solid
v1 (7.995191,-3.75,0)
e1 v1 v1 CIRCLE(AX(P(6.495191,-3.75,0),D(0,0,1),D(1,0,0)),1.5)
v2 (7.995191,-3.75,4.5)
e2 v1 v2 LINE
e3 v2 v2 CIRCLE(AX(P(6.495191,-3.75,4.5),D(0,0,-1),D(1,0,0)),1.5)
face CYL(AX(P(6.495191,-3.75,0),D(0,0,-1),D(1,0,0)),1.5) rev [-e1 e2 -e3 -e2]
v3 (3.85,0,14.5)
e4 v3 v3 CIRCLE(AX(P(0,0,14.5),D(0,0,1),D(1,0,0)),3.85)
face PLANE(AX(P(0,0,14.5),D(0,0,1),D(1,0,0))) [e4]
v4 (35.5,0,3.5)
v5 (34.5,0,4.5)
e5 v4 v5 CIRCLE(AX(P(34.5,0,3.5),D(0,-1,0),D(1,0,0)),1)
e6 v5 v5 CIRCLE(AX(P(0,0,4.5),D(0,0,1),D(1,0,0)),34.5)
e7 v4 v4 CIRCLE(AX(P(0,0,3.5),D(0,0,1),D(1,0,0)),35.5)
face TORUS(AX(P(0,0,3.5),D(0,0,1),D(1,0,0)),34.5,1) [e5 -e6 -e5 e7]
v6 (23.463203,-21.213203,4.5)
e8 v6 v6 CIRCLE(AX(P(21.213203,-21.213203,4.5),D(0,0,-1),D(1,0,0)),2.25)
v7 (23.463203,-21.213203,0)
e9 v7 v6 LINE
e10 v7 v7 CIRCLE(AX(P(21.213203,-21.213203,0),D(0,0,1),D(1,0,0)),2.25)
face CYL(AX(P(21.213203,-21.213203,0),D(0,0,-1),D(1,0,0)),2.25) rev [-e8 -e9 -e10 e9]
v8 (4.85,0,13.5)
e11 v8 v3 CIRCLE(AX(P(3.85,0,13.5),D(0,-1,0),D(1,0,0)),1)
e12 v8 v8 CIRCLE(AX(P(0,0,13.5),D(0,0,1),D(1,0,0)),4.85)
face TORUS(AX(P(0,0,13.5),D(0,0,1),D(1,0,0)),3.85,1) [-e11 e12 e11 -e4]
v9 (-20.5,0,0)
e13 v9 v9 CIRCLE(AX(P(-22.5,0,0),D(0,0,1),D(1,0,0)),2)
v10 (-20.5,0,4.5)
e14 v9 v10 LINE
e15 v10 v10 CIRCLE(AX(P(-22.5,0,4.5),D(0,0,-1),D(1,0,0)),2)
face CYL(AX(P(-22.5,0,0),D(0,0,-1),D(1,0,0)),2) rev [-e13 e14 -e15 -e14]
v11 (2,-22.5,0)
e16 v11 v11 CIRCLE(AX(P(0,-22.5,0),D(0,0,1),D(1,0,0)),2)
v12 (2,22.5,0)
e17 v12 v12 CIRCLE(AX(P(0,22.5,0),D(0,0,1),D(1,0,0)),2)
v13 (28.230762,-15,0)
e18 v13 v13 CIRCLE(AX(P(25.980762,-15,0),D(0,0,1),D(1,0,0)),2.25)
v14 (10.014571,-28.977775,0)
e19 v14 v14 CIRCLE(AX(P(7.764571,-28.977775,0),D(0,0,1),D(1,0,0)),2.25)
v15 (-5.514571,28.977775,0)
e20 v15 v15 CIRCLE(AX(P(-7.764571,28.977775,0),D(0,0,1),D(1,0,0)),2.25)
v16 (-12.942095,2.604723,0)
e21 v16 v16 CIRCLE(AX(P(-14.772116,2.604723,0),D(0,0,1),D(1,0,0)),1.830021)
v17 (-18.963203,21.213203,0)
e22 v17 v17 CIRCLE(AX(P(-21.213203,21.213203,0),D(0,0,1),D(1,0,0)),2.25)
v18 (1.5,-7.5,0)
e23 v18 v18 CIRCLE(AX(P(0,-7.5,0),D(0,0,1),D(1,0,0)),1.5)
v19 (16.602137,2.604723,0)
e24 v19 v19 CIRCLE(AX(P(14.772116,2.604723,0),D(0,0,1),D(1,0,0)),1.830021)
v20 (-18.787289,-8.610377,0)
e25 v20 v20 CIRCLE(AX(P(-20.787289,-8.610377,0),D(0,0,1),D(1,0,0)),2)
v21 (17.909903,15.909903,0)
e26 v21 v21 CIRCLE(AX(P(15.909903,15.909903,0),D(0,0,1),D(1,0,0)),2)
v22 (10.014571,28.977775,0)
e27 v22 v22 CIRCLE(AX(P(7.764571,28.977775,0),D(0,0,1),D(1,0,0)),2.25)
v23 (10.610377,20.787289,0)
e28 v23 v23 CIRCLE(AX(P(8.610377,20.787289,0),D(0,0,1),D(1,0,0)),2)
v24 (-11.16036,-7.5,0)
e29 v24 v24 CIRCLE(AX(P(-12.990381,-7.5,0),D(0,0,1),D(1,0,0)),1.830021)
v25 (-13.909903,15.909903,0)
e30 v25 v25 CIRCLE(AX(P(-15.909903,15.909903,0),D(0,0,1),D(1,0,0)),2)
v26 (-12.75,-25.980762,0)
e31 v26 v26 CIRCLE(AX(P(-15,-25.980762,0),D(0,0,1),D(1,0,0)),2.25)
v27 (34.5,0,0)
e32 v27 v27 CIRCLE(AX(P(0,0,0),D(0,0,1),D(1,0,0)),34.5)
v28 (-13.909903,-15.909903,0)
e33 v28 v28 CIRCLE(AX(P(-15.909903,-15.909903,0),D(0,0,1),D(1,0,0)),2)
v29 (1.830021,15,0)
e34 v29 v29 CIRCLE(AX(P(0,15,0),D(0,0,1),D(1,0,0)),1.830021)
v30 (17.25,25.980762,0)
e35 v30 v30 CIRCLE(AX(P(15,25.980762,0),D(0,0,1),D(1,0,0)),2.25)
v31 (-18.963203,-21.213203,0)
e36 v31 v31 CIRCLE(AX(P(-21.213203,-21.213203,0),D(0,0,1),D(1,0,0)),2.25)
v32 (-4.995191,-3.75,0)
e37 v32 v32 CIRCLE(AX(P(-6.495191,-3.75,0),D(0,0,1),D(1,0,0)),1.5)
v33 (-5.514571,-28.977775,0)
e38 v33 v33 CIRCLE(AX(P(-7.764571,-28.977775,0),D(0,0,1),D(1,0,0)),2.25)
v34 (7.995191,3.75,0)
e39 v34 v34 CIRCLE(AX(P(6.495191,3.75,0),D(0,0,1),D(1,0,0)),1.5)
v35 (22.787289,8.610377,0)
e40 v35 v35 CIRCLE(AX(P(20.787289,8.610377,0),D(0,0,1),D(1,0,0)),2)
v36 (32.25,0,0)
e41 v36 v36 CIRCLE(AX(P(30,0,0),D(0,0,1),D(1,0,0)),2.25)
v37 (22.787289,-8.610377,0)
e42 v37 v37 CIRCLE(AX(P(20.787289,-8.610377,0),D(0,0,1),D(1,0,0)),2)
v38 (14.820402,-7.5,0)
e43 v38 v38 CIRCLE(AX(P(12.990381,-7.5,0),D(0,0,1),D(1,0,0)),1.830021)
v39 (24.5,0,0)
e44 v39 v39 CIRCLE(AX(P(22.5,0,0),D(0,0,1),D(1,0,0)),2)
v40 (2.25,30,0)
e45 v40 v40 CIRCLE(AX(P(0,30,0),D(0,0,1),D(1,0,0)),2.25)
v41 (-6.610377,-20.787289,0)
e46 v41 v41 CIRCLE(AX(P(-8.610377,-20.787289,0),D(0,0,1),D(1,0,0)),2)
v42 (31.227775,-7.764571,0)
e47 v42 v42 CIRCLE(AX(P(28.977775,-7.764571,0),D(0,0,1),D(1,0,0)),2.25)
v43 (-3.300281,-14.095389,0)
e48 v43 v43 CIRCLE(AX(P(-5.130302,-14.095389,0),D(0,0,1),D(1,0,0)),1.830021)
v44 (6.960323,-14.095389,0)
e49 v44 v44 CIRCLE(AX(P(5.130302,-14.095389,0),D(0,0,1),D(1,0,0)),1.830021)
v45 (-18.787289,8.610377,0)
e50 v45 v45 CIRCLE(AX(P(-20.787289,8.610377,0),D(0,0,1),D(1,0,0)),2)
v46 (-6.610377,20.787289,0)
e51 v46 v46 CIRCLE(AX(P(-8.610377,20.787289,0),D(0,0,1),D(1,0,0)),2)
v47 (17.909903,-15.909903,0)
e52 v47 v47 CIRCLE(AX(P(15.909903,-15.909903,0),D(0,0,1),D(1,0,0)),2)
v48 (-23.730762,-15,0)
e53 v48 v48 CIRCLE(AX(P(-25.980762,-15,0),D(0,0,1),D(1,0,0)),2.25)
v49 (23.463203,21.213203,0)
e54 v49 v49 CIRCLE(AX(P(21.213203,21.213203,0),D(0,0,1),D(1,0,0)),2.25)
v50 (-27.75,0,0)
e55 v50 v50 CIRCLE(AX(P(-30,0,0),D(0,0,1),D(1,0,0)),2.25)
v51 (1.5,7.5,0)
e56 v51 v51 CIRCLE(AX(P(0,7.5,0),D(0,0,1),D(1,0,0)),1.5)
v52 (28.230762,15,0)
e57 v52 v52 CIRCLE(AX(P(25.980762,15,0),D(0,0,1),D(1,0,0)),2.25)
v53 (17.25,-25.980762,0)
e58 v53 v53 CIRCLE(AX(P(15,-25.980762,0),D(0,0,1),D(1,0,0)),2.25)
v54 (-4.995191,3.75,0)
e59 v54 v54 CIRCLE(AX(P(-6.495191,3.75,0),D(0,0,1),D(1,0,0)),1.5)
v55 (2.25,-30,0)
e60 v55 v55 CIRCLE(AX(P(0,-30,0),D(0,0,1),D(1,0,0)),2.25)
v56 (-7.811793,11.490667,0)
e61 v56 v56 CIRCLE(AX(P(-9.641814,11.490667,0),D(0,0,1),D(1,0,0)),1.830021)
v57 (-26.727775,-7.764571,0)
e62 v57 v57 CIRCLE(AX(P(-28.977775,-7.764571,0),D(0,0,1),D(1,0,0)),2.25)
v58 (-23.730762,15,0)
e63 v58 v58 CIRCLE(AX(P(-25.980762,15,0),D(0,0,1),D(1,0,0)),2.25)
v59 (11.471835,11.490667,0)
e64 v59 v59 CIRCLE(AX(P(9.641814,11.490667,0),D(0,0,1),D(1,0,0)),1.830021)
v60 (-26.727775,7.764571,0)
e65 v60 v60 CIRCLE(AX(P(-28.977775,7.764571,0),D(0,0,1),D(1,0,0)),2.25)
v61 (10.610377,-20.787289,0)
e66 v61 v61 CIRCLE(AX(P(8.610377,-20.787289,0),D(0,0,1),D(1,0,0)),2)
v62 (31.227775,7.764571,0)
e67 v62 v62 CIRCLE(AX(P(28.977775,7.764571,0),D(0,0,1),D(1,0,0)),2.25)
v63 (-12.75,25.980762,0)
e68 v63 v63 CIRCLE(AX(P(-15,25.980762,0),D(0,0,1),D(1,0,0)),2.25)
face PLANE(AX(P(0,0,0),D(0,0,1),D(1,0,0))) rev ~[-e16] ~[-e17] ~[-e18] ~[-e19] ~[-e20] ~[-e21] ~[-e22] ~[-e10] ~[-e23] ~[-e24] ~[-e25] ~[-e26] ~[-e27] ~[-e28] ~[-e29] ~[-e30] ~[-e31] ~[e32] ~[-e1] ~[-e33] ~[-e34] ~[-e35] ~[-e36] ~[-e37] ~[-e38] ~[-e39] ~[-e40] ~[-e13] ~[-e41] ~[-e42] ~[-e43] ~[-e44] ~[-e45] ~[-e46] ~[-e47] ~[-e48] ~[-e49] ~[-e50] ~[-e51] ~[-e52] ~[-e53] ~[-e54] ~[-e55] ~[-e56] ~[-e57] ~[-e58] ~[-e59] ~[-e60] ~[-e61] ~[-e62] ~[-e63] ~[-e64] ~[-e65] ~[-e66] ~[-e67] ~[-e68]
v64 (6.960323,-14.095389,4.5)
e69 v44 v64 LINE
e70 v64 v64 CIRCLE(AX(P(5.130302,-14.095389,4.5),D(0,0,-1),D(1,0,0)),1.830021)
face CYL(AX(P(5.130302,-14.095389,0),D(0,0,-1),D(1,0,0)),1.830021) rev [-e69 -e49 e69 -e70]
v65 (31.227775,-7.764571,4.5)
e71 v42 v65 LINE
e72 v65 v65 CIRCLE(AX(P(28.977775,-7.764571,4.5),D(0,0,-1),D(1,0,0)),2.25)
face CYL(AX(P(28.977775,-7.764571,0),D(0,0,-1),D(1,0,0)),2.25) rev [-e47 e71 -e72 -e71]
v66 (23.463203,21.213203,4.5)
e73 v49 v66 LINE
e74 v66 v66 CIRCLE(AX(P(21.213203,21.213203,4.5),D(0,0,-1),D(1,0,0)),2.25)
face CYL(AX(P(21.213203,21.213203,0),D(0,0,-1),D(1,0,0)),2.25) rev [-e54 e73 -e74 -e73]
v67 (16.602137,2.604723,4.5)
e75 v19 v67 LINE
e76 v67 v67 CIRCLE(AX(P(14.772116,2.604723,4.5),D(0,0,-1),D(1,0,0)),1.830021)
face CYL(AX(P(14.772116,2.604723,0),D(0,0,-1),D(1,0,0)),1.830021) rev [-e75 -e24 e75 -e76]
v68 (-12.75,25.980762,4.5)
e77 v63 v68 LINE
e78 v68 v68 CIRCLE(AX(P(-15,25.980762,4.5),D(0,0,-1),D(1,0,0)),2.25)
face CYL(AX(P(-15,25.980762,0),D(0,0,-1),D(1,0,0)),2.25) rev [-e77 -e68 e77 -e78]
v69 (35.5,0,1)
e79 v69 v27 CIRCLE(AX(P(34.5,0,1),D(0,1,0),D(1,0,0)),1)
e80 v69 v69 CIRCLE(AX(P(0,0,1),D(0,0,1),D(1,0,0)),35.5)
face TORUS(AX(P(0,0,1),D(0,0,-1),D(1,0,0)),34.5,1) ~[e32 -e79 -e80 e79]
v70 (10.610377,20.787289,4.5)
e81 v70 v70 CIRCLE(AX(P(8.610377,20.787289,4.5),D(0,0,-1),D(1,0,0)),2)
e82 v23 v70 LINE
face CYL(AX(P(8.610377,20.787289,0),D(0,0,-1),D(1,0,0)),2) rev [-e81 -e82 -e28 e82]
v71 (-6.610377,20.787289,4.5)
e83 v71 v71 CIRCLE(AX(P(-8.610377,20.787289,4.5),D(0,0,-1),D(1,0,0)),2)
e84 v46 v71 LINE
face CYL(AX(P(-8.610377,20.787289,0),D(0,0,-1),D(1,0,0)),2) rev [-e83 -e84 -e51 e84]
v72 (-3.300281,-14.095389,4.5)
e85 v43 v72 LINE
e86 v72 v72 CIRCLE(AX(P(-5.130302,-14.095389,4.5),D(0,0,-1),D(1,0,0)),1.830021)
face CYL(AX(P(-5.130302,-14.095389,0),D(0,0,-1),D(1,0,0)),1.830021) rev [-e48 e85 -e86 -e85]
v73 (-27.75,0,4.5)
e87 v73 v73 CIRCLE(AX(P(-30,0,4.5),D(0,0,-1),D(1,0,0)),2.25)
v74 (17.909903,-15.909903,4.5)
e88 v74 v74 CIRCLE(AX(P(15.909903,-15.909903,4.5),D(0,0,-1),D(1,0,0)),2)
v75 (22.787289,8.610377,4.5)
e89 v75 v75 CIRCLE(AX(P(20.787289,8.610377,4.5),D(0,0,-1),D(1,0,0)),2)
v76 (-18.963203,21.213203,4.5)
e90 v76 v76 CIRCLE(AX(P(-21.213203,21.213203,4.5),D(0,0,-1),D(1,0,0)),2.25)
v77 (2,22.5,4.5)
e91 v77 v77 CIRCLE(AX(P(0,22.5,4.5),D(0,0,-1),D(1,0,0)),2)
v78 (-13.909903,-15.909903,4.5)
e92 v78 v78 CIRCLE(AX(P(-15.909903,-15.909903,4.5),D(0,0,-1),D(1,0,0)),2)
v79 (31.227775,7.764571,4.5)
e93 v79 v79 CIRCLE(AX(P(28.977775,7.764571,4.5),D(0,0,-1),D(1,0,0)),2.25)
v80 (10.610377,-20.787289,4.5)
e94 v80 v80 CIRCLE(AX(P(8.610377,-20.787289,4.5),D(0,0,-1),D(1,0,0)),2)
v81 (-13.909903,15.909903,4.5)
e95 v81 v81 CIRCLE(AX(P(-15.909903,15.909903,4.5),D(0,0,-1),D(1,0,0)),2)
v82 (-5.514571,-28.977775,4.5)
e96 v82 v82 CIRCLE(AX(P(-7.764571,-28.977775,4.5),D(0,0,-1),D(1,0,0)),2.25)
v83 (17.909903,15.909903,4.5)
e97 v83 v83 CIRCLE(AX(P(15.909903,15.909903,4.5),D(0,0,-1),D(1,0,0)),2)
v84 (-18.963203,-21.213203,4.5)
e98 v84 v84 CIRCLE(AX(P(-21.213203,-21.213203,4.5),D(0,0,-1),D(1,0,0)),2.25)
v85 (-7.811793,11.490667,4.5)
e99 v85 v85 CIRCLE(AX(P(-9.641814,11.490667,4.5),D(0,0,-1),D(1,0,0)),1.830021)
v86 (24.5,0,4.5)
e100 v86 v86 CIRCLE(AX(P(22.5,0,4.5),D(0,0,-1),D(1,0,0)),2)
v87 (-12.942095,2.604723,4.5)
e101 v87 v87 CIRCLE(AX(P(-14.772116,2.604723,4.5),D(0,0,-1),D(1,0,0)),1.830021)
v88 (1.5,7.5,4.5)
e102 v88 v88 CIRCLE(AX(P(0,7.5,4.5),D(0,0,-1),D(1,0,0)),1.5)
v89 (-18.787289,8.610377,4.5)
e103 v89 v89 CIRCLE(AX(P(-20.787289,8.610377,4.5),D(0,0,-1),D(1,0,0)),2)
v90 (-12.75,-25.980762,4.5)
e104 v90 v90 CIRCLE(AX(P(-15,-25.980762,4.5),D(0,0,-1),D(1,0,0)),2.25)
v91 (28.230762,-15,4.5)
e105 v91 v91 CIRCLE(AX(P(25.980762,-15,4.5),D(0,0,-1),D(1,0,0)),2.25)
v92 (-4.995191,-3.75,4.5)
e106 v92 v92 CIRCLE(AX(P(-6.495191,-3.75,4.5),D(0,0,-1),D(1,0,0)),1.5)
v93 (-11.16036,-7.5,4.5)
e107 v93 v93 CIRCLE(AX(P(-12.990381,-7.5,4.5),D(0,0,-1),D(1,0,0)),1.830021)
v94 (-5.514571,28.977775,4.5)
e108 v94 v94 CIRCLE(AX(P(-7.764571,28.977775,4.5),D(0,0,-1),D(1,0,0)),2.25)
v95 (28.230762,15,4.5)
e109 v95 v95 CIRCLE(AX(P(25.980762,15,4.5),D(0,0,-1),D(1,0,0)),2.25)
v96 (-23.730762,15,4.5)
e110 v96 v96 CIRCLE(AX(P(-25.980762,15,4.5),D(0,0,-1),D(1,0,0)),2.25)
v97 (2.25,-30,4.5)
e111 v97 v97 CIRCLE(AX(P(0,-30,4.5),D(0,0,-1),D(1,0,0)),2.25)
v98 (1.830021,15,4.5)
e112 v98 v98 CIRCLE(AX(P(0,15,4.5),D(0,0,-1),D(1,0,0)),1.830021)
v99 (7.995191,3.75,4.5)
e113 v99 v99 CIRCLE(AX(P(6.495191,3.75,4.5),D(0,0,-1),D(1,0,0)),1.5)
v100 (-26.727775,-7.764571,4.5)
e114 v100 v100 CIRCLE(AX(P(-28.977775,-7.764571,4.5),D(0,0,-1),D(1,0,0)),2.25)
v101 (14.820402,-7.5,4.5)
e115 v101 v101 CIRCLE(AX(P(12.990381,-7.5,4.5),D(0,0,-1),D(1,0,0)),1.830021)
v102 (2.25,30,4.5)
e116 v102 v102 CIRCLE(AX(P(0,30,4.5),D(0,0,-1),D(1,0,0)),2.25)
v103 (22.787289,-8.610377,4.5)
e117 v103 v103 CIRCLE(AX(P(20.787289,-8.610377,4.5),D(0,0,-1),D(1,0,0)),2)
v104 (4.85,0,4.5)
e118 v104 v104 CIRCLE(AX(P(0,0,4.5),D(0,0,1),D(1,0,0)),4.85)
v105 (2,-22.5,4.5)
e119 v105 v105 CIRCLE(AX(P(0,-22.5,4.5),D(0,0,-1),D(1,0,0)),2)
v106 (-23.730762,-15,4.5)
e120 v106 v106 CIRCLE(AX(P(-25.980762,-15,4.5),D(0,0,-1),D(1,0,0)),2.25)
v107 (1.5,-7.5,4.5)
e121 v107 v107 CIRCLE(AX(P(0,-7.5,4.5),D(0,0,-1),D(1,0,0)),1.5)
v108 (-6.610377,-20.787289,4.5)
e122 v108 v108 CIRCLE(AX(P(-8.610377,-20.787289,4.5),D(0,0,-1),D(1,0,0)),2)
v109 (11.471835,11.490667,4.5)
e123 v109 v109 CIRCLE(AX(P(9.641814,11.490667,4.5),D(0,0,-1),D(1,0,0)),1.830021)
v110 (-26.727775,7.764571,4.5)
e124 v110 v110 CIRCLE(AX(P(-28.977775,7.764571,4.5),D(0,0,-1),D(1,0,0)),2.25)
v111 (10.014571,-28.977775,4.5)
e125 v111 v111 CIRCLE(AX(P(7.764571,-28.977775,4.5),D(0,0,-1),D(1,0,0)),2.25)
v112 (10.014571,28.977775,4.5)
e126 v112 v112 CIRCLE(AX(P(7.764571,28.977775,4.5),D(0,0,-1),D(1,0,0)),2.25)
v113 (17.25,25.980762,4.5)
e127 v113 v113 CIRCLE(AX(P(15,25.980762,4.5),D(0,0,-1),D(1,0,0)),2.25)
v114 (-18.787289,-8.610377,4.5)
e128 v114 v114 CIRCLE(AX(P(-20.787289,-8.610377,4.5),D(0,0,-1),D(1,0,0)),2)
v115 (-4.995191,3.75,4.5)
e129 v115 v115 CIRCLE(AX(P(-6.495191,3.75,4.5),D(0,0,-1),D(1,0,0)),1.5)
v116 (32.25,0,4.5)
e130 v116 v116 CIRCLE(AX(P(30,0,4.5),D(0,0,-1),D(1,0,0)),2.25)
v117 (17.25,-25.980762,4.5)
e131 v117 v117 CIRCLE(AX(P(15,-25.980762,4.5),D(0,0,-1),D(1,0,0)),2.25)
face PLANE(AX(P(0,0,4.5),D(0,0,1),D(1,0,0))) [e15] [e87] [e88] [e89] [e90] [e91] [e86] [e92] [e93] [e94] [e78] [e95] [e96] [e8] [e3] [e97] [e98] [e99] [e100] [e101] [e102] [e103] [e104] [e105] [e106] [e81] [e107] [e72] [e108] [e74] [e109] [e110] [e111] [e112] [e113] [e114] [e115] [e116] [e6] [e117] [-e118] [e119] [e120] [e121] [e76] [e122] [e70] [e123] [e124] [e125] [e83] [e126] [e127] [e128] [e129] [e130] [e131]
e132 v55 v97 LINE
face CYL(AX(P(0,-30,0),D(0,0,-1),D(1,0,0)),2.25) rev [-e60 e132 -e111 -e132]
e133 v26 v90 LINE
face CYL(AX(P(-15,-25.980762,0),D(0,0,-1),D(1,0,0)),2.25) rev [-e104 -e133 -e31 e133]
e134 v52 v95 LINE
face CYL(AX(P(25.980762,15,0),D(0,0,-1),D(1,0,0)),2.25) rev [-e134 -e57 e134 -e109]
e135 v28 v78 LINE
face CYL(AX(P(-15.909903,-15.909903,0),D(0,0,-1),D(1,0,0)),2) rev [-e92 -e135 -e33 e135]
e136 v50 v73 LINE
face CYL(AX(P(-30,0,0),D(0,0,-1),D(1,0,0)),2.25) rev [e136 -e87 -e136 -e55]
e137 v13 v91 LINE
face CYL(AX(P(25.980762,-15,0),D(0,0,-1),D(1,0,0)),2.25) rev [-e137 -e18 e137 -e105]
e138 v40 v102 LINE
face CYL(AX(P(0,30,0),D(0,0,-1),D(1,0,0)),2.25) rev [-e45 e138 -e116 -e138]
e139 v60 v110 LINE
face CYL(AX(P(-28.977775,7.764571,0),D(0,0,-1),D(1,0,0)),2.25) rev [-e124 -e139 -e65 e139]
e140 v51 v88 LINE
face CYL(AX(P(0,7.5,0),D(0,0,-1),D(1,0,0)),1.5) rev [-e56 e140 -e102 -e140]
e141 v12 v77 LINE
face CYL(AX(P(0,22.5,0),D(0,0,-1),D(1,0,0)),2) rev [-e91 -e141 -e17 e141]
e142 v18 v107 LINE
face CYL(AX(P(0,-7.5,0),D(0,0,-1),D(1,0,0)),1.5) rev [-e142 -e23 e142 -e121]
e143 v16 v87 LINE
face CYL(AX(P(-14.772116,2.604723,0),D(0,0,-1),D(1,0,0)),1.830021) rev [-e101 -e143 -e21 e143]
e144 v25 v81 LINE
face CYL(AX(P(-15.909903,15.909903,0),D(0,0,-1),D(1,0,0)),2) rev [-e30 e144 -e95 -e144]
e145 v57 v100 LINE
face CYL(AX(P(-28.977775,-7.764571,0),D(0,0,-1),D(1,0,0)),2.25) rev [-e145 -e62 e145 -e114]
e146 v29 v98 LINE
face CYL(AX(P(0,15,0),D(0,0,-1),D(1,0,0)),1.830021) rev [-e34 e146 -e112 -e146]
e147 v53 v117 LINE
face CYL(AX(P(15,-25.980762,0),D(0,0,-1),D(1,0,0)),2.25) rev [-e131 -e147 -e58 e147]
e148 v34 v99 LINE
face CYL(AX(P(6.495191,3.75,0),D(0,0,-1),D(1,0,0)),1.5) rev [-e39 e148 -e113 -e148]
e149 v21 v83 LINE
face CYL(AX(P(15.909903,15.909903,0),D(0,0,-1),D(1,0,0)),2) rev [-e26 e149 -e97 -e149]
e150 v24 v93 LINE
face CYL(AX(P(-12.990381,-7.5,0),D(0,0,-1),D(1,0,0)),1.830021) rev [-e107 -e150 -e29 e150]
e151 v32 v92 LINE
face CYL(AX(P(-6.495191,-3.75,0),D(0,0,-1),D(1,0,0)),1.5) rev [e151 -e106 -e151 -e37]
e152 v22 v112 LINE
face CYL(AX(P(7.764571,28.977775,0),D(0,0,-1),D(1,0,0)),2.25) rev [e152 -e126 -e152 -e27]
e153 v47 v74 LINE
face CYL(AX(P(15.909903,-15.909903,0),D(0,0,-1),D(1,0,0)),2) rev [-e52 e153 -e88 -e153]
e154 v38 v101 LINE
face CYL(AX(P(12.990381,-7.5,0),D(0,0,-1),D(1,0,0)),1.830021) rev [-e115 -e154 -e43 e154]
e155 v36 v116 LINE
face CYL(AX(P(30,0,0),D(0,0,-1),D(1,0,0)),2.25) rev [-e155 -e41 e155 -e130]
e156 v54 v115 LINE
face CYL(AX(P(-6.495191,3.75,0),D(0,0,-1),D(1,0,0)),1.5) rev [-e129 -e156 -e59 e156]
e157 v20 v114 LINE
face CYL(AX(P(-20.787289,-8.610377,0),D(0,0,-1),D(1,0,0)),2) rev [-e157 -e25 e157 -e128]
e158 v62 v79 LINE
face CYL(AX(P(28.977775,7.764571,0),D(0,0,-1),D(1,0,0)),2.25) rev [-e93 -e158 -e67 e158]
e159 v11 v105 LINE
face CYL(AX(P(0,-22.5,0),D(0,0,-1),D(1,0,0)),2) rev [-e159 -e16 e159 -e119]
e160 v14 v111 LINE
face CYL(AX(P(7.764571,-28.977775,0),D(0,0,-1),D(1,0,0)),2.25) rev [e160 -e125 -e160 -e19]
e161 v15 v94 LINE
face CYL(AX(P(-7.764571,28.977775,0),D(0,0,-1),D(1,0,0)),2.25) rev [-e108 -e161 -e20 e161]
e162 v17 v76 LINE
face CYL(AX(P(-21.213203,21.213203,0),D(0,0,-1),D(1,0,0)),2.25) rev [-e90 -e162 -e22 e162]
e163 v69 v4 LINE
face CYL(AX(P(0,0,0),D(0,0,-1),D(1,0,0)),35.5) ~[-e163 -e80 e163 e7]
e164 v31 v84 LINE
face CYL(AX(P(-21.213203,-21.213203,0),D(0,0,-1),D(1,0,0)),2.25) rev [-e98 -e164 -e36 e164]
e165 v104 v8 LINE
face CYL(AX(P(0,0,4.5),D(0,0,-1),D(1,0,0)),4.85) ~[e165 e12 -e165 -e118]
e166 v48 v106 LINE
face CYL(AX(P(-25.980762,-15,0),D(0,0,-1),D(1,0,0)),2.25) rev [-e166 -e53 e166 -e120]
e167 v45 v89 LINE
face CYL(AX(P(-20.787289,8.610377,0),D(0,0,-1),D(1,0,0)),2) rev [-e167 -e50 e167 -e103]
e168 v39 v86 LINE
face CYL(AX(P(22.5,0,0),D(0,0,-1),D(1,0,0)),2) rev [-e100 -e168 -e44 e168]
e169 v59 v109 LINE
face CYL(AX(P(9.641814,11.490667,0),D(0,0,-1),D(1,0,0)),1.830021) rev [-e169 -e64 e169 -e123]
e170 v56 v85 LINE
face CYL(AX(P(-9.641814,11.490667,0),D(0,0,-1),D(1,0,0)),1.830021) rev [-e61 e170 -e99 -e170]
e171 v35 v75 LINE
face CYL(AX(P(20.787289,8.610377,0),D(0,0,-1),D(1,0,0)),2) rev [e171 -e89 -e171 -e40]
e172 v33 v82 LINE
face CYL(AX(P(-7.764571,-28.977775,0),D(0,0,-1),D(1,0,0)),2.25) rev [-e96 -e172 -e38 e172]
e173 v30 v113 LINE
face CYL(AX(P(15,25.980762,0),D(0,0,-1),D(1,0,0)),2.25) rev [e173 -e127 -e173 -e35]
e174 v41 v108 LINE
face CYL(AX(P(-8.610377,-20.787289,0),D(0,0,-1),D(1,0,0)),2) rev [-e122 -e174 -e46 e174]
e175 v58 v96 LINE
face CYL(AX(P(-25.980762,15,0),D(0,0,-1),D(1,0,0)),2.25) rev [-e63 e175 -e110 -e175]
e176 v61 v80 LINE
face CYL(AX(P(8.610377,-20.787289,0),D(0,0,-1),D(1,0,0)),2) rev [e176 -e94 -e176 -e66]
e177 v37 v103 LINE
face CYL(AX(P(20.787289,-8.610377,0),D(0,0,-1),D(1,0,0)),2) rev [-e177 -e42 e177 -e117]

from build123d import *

# Parameters (mm, degrees)
F4_R      = 2.25
F5_DEPTH  = 5
F3_R      = 2
F6_DEPTH  = 5
F2_R      = 1.830021
F7_DEPTH  = 5
F1_R      = 1.5
F8_DEPTH  = 5
F0_R      = 35.5
F9_DEPTH  = 4.5
F11_R     = 1
F12_R     = 4.85
F13_DEPTH = 10
F14_R     = 1


with BuildPart() as f5:
    # F4 (on face) → F5 (new body)
    with BuildSketch(Plane.XY):
        with Locations((0, 30)):
            Circle(F4_R)
        with Locations((-7.764571, 28.977775)):
            Circle(F4_R)
        with Locations((-15, 25.980762)):
            Circle(F4_R)
        with Locations((-21.213203, 21.213203)):
            Circle(F4_R)
        with Locations((-25.980762, 15)):
            Circle(F4_R)
        with Locations((-28.977775, 7.764571)):
            Circle(F4_R)
        with Locations((-30, 0)):
            Circle(F4_R)
        with Locations((-28.977775, -7.764571)):
            Circle(F4_R)
        with Locations((-25.980762, -15)):
            Circle(F4_R)
        with Locations((-21.213203, -21.213203)):
            Circle(F4_R)
        with Locations((-15, -25.980762)):
            Circle(F4_R)
        with Locations((-7.764571, -28.977775)):
            Circle(F4_R)
        with Locations((0, -30)):
            Circle(F4_R)
        with Locations((7.764571, -28.977775)):
            Circle(F4_R)
        with Locations((15, -25.980762)):
            Circle(F4_R)
        with Locations((21.213203, -21.213203)):
            Circle(F4_R)
        with Locations((25.980762, -15)):
            Circle(F4_R)
        with Locations((28.977775, -7.764571)):
            Circle(F4_R)
        with Locations((30, 0)):
            Circle(F4_R)
        with Locations((28.977775, 7.764571)):
            Circle(F4_R)
        with Locations((25.980762, 15)):
            Circle(F4_R)
        with Locations((21.213203, 21.213203)):
            Circle(F4_R)
        with Locations((15, 25.980762)):
            Circle(F4_R)
        with Locations((7.764571, 28.977775)):
            Circle(F4_R)
    extrude(amount=F5_DEPTH)


with BuildPart() as f6:
    # F3 (on face) → F6 (new body)
    with BuildSketch(Plane.XY):
        with Locations((0, 22.5)):
            Circle(F3_R)
        with Locations((-8.610377, 20.787289)):
            Circle(F3_R)
        with Locations((-15.909903, 15.909903)):
            Circle(F3_R)
        with Locations((-20.787289, 8.610377)):
            Circle(F3_R)
        with Locations((-22.5, 0)):
            Circle(F3_R)
        with Locations((-20.787289, -8.610377)):
            Circle(F3_R)
        with Locations((-15.909903, -15.909903)):
            Circle(F3_R)
        with Locations((-8.610377, -20.787289)):
            Circle(F3_R)
        with Locations((0, -22.5)):
            Circle(F3_R)
        with Locations((8.610377, -20.787289)):
            Circle(F3_R)
        with Locations((15.909903, -15.909903)):
            Circle(F3_R)
        with Locations((20.787289, -8.610377)):
            Circle(F3_R)
        with Locations((22.5, 0)):
            Circle(F3_R)
        with Locations((20.787289, 8.610377)):
            Circle(F3_R)
        with Locations((15.909903, 15.909903)):
            Circle(F3_R)
        with Locations((8.610377, 20.787289)):
            Circle(F3_R)
    extrude(amount=F6_DEPTH)


with BuildPart() as f7:
    # F2 (on face) → F7 (new body)
    with BuildSketch(Plane.XY):
        with Locations((0, 15)):
            Circle(F2_R)
        with Locations((-9.641814, 11.490667)):
            Circle(F2_R)
        with Locations((-14.772116, 2.604723)):
            Circle(F2_R)
        with Locations((-12.990381, -7.5)):
            Circle(F2_R)
        with Locations((-5.130302, -14.095389)):
            Circle(F2_R)
        with Locations((5.130302, -14.095389)):
            Circle(F2_R)
        with Locations((12.990381, -7.5)):
            Circle(F2_R)
        with Locations((14.772116, 2.604723)):
            Circle(F2_R)
        with Locations((9.641814, 11.490667)):
            Circle(F2_R)
    extrude(amount=F7_DEPTH)


with BuildPart() as f8:
    # F1 (on face) → F8 (new body)
    with BuildSketch(Plane.XY):
        with Locations((0, 7.5)):
            Circle(F1_R)
        with Locations((-6.495191, 3.75)):
            Circle(F1_R)
        with Locations((-6.495191, -3.75)):
            Circle(F1_R)
        with Locations((0, -7.5)):
            Circle(F1_R)
        with Locations((6.495191, -3.75)):
            Circle(F1_R)
        with Locations((6.495191, 3.75)):
            Circle(F1_R)
    extrude(amount=F8_DEPTH)


with BuildPart() as f9:
    # F0 (on Top) → F9 (new body)
    with BuildSketch(Plane.XY):
        Circle(F0_R)
    extrude(amount=F9_DEPTH)

    # F10: cut F5, F6, F7, F8
    add(f5.part, mode=Mode.SUBTRACT)
    add(f6.part, mode=Mode.SUBTRACT)
    add(f7.part, mode=Mode.SUBTRACT)
    add(f8.part, mode=Mode.SUBTRACT)

    # F11
    f11_edges = [f9.edges().sort_by_distance(p)[0] for p in [
        (-35.5, 0, 0),
        (-35.5, 0, 4.5),
    ]]
    fillet(f11_edges, radius=F11_R)

    # F12 (on face) → F13 (join)
    with BuildSketch(Plane.XY.offset(4.5)):
        Circle(F12_R)
    extrude(amount=F13_DEPTH)

    # F14
    f14_edges = [f9.edges().sort_by_distance(p)[0] for p in [
        (-4.85, 0, 14.5),
    ]]
    fillet(f14_edges, radius=F14_R)


solid = f9.part
